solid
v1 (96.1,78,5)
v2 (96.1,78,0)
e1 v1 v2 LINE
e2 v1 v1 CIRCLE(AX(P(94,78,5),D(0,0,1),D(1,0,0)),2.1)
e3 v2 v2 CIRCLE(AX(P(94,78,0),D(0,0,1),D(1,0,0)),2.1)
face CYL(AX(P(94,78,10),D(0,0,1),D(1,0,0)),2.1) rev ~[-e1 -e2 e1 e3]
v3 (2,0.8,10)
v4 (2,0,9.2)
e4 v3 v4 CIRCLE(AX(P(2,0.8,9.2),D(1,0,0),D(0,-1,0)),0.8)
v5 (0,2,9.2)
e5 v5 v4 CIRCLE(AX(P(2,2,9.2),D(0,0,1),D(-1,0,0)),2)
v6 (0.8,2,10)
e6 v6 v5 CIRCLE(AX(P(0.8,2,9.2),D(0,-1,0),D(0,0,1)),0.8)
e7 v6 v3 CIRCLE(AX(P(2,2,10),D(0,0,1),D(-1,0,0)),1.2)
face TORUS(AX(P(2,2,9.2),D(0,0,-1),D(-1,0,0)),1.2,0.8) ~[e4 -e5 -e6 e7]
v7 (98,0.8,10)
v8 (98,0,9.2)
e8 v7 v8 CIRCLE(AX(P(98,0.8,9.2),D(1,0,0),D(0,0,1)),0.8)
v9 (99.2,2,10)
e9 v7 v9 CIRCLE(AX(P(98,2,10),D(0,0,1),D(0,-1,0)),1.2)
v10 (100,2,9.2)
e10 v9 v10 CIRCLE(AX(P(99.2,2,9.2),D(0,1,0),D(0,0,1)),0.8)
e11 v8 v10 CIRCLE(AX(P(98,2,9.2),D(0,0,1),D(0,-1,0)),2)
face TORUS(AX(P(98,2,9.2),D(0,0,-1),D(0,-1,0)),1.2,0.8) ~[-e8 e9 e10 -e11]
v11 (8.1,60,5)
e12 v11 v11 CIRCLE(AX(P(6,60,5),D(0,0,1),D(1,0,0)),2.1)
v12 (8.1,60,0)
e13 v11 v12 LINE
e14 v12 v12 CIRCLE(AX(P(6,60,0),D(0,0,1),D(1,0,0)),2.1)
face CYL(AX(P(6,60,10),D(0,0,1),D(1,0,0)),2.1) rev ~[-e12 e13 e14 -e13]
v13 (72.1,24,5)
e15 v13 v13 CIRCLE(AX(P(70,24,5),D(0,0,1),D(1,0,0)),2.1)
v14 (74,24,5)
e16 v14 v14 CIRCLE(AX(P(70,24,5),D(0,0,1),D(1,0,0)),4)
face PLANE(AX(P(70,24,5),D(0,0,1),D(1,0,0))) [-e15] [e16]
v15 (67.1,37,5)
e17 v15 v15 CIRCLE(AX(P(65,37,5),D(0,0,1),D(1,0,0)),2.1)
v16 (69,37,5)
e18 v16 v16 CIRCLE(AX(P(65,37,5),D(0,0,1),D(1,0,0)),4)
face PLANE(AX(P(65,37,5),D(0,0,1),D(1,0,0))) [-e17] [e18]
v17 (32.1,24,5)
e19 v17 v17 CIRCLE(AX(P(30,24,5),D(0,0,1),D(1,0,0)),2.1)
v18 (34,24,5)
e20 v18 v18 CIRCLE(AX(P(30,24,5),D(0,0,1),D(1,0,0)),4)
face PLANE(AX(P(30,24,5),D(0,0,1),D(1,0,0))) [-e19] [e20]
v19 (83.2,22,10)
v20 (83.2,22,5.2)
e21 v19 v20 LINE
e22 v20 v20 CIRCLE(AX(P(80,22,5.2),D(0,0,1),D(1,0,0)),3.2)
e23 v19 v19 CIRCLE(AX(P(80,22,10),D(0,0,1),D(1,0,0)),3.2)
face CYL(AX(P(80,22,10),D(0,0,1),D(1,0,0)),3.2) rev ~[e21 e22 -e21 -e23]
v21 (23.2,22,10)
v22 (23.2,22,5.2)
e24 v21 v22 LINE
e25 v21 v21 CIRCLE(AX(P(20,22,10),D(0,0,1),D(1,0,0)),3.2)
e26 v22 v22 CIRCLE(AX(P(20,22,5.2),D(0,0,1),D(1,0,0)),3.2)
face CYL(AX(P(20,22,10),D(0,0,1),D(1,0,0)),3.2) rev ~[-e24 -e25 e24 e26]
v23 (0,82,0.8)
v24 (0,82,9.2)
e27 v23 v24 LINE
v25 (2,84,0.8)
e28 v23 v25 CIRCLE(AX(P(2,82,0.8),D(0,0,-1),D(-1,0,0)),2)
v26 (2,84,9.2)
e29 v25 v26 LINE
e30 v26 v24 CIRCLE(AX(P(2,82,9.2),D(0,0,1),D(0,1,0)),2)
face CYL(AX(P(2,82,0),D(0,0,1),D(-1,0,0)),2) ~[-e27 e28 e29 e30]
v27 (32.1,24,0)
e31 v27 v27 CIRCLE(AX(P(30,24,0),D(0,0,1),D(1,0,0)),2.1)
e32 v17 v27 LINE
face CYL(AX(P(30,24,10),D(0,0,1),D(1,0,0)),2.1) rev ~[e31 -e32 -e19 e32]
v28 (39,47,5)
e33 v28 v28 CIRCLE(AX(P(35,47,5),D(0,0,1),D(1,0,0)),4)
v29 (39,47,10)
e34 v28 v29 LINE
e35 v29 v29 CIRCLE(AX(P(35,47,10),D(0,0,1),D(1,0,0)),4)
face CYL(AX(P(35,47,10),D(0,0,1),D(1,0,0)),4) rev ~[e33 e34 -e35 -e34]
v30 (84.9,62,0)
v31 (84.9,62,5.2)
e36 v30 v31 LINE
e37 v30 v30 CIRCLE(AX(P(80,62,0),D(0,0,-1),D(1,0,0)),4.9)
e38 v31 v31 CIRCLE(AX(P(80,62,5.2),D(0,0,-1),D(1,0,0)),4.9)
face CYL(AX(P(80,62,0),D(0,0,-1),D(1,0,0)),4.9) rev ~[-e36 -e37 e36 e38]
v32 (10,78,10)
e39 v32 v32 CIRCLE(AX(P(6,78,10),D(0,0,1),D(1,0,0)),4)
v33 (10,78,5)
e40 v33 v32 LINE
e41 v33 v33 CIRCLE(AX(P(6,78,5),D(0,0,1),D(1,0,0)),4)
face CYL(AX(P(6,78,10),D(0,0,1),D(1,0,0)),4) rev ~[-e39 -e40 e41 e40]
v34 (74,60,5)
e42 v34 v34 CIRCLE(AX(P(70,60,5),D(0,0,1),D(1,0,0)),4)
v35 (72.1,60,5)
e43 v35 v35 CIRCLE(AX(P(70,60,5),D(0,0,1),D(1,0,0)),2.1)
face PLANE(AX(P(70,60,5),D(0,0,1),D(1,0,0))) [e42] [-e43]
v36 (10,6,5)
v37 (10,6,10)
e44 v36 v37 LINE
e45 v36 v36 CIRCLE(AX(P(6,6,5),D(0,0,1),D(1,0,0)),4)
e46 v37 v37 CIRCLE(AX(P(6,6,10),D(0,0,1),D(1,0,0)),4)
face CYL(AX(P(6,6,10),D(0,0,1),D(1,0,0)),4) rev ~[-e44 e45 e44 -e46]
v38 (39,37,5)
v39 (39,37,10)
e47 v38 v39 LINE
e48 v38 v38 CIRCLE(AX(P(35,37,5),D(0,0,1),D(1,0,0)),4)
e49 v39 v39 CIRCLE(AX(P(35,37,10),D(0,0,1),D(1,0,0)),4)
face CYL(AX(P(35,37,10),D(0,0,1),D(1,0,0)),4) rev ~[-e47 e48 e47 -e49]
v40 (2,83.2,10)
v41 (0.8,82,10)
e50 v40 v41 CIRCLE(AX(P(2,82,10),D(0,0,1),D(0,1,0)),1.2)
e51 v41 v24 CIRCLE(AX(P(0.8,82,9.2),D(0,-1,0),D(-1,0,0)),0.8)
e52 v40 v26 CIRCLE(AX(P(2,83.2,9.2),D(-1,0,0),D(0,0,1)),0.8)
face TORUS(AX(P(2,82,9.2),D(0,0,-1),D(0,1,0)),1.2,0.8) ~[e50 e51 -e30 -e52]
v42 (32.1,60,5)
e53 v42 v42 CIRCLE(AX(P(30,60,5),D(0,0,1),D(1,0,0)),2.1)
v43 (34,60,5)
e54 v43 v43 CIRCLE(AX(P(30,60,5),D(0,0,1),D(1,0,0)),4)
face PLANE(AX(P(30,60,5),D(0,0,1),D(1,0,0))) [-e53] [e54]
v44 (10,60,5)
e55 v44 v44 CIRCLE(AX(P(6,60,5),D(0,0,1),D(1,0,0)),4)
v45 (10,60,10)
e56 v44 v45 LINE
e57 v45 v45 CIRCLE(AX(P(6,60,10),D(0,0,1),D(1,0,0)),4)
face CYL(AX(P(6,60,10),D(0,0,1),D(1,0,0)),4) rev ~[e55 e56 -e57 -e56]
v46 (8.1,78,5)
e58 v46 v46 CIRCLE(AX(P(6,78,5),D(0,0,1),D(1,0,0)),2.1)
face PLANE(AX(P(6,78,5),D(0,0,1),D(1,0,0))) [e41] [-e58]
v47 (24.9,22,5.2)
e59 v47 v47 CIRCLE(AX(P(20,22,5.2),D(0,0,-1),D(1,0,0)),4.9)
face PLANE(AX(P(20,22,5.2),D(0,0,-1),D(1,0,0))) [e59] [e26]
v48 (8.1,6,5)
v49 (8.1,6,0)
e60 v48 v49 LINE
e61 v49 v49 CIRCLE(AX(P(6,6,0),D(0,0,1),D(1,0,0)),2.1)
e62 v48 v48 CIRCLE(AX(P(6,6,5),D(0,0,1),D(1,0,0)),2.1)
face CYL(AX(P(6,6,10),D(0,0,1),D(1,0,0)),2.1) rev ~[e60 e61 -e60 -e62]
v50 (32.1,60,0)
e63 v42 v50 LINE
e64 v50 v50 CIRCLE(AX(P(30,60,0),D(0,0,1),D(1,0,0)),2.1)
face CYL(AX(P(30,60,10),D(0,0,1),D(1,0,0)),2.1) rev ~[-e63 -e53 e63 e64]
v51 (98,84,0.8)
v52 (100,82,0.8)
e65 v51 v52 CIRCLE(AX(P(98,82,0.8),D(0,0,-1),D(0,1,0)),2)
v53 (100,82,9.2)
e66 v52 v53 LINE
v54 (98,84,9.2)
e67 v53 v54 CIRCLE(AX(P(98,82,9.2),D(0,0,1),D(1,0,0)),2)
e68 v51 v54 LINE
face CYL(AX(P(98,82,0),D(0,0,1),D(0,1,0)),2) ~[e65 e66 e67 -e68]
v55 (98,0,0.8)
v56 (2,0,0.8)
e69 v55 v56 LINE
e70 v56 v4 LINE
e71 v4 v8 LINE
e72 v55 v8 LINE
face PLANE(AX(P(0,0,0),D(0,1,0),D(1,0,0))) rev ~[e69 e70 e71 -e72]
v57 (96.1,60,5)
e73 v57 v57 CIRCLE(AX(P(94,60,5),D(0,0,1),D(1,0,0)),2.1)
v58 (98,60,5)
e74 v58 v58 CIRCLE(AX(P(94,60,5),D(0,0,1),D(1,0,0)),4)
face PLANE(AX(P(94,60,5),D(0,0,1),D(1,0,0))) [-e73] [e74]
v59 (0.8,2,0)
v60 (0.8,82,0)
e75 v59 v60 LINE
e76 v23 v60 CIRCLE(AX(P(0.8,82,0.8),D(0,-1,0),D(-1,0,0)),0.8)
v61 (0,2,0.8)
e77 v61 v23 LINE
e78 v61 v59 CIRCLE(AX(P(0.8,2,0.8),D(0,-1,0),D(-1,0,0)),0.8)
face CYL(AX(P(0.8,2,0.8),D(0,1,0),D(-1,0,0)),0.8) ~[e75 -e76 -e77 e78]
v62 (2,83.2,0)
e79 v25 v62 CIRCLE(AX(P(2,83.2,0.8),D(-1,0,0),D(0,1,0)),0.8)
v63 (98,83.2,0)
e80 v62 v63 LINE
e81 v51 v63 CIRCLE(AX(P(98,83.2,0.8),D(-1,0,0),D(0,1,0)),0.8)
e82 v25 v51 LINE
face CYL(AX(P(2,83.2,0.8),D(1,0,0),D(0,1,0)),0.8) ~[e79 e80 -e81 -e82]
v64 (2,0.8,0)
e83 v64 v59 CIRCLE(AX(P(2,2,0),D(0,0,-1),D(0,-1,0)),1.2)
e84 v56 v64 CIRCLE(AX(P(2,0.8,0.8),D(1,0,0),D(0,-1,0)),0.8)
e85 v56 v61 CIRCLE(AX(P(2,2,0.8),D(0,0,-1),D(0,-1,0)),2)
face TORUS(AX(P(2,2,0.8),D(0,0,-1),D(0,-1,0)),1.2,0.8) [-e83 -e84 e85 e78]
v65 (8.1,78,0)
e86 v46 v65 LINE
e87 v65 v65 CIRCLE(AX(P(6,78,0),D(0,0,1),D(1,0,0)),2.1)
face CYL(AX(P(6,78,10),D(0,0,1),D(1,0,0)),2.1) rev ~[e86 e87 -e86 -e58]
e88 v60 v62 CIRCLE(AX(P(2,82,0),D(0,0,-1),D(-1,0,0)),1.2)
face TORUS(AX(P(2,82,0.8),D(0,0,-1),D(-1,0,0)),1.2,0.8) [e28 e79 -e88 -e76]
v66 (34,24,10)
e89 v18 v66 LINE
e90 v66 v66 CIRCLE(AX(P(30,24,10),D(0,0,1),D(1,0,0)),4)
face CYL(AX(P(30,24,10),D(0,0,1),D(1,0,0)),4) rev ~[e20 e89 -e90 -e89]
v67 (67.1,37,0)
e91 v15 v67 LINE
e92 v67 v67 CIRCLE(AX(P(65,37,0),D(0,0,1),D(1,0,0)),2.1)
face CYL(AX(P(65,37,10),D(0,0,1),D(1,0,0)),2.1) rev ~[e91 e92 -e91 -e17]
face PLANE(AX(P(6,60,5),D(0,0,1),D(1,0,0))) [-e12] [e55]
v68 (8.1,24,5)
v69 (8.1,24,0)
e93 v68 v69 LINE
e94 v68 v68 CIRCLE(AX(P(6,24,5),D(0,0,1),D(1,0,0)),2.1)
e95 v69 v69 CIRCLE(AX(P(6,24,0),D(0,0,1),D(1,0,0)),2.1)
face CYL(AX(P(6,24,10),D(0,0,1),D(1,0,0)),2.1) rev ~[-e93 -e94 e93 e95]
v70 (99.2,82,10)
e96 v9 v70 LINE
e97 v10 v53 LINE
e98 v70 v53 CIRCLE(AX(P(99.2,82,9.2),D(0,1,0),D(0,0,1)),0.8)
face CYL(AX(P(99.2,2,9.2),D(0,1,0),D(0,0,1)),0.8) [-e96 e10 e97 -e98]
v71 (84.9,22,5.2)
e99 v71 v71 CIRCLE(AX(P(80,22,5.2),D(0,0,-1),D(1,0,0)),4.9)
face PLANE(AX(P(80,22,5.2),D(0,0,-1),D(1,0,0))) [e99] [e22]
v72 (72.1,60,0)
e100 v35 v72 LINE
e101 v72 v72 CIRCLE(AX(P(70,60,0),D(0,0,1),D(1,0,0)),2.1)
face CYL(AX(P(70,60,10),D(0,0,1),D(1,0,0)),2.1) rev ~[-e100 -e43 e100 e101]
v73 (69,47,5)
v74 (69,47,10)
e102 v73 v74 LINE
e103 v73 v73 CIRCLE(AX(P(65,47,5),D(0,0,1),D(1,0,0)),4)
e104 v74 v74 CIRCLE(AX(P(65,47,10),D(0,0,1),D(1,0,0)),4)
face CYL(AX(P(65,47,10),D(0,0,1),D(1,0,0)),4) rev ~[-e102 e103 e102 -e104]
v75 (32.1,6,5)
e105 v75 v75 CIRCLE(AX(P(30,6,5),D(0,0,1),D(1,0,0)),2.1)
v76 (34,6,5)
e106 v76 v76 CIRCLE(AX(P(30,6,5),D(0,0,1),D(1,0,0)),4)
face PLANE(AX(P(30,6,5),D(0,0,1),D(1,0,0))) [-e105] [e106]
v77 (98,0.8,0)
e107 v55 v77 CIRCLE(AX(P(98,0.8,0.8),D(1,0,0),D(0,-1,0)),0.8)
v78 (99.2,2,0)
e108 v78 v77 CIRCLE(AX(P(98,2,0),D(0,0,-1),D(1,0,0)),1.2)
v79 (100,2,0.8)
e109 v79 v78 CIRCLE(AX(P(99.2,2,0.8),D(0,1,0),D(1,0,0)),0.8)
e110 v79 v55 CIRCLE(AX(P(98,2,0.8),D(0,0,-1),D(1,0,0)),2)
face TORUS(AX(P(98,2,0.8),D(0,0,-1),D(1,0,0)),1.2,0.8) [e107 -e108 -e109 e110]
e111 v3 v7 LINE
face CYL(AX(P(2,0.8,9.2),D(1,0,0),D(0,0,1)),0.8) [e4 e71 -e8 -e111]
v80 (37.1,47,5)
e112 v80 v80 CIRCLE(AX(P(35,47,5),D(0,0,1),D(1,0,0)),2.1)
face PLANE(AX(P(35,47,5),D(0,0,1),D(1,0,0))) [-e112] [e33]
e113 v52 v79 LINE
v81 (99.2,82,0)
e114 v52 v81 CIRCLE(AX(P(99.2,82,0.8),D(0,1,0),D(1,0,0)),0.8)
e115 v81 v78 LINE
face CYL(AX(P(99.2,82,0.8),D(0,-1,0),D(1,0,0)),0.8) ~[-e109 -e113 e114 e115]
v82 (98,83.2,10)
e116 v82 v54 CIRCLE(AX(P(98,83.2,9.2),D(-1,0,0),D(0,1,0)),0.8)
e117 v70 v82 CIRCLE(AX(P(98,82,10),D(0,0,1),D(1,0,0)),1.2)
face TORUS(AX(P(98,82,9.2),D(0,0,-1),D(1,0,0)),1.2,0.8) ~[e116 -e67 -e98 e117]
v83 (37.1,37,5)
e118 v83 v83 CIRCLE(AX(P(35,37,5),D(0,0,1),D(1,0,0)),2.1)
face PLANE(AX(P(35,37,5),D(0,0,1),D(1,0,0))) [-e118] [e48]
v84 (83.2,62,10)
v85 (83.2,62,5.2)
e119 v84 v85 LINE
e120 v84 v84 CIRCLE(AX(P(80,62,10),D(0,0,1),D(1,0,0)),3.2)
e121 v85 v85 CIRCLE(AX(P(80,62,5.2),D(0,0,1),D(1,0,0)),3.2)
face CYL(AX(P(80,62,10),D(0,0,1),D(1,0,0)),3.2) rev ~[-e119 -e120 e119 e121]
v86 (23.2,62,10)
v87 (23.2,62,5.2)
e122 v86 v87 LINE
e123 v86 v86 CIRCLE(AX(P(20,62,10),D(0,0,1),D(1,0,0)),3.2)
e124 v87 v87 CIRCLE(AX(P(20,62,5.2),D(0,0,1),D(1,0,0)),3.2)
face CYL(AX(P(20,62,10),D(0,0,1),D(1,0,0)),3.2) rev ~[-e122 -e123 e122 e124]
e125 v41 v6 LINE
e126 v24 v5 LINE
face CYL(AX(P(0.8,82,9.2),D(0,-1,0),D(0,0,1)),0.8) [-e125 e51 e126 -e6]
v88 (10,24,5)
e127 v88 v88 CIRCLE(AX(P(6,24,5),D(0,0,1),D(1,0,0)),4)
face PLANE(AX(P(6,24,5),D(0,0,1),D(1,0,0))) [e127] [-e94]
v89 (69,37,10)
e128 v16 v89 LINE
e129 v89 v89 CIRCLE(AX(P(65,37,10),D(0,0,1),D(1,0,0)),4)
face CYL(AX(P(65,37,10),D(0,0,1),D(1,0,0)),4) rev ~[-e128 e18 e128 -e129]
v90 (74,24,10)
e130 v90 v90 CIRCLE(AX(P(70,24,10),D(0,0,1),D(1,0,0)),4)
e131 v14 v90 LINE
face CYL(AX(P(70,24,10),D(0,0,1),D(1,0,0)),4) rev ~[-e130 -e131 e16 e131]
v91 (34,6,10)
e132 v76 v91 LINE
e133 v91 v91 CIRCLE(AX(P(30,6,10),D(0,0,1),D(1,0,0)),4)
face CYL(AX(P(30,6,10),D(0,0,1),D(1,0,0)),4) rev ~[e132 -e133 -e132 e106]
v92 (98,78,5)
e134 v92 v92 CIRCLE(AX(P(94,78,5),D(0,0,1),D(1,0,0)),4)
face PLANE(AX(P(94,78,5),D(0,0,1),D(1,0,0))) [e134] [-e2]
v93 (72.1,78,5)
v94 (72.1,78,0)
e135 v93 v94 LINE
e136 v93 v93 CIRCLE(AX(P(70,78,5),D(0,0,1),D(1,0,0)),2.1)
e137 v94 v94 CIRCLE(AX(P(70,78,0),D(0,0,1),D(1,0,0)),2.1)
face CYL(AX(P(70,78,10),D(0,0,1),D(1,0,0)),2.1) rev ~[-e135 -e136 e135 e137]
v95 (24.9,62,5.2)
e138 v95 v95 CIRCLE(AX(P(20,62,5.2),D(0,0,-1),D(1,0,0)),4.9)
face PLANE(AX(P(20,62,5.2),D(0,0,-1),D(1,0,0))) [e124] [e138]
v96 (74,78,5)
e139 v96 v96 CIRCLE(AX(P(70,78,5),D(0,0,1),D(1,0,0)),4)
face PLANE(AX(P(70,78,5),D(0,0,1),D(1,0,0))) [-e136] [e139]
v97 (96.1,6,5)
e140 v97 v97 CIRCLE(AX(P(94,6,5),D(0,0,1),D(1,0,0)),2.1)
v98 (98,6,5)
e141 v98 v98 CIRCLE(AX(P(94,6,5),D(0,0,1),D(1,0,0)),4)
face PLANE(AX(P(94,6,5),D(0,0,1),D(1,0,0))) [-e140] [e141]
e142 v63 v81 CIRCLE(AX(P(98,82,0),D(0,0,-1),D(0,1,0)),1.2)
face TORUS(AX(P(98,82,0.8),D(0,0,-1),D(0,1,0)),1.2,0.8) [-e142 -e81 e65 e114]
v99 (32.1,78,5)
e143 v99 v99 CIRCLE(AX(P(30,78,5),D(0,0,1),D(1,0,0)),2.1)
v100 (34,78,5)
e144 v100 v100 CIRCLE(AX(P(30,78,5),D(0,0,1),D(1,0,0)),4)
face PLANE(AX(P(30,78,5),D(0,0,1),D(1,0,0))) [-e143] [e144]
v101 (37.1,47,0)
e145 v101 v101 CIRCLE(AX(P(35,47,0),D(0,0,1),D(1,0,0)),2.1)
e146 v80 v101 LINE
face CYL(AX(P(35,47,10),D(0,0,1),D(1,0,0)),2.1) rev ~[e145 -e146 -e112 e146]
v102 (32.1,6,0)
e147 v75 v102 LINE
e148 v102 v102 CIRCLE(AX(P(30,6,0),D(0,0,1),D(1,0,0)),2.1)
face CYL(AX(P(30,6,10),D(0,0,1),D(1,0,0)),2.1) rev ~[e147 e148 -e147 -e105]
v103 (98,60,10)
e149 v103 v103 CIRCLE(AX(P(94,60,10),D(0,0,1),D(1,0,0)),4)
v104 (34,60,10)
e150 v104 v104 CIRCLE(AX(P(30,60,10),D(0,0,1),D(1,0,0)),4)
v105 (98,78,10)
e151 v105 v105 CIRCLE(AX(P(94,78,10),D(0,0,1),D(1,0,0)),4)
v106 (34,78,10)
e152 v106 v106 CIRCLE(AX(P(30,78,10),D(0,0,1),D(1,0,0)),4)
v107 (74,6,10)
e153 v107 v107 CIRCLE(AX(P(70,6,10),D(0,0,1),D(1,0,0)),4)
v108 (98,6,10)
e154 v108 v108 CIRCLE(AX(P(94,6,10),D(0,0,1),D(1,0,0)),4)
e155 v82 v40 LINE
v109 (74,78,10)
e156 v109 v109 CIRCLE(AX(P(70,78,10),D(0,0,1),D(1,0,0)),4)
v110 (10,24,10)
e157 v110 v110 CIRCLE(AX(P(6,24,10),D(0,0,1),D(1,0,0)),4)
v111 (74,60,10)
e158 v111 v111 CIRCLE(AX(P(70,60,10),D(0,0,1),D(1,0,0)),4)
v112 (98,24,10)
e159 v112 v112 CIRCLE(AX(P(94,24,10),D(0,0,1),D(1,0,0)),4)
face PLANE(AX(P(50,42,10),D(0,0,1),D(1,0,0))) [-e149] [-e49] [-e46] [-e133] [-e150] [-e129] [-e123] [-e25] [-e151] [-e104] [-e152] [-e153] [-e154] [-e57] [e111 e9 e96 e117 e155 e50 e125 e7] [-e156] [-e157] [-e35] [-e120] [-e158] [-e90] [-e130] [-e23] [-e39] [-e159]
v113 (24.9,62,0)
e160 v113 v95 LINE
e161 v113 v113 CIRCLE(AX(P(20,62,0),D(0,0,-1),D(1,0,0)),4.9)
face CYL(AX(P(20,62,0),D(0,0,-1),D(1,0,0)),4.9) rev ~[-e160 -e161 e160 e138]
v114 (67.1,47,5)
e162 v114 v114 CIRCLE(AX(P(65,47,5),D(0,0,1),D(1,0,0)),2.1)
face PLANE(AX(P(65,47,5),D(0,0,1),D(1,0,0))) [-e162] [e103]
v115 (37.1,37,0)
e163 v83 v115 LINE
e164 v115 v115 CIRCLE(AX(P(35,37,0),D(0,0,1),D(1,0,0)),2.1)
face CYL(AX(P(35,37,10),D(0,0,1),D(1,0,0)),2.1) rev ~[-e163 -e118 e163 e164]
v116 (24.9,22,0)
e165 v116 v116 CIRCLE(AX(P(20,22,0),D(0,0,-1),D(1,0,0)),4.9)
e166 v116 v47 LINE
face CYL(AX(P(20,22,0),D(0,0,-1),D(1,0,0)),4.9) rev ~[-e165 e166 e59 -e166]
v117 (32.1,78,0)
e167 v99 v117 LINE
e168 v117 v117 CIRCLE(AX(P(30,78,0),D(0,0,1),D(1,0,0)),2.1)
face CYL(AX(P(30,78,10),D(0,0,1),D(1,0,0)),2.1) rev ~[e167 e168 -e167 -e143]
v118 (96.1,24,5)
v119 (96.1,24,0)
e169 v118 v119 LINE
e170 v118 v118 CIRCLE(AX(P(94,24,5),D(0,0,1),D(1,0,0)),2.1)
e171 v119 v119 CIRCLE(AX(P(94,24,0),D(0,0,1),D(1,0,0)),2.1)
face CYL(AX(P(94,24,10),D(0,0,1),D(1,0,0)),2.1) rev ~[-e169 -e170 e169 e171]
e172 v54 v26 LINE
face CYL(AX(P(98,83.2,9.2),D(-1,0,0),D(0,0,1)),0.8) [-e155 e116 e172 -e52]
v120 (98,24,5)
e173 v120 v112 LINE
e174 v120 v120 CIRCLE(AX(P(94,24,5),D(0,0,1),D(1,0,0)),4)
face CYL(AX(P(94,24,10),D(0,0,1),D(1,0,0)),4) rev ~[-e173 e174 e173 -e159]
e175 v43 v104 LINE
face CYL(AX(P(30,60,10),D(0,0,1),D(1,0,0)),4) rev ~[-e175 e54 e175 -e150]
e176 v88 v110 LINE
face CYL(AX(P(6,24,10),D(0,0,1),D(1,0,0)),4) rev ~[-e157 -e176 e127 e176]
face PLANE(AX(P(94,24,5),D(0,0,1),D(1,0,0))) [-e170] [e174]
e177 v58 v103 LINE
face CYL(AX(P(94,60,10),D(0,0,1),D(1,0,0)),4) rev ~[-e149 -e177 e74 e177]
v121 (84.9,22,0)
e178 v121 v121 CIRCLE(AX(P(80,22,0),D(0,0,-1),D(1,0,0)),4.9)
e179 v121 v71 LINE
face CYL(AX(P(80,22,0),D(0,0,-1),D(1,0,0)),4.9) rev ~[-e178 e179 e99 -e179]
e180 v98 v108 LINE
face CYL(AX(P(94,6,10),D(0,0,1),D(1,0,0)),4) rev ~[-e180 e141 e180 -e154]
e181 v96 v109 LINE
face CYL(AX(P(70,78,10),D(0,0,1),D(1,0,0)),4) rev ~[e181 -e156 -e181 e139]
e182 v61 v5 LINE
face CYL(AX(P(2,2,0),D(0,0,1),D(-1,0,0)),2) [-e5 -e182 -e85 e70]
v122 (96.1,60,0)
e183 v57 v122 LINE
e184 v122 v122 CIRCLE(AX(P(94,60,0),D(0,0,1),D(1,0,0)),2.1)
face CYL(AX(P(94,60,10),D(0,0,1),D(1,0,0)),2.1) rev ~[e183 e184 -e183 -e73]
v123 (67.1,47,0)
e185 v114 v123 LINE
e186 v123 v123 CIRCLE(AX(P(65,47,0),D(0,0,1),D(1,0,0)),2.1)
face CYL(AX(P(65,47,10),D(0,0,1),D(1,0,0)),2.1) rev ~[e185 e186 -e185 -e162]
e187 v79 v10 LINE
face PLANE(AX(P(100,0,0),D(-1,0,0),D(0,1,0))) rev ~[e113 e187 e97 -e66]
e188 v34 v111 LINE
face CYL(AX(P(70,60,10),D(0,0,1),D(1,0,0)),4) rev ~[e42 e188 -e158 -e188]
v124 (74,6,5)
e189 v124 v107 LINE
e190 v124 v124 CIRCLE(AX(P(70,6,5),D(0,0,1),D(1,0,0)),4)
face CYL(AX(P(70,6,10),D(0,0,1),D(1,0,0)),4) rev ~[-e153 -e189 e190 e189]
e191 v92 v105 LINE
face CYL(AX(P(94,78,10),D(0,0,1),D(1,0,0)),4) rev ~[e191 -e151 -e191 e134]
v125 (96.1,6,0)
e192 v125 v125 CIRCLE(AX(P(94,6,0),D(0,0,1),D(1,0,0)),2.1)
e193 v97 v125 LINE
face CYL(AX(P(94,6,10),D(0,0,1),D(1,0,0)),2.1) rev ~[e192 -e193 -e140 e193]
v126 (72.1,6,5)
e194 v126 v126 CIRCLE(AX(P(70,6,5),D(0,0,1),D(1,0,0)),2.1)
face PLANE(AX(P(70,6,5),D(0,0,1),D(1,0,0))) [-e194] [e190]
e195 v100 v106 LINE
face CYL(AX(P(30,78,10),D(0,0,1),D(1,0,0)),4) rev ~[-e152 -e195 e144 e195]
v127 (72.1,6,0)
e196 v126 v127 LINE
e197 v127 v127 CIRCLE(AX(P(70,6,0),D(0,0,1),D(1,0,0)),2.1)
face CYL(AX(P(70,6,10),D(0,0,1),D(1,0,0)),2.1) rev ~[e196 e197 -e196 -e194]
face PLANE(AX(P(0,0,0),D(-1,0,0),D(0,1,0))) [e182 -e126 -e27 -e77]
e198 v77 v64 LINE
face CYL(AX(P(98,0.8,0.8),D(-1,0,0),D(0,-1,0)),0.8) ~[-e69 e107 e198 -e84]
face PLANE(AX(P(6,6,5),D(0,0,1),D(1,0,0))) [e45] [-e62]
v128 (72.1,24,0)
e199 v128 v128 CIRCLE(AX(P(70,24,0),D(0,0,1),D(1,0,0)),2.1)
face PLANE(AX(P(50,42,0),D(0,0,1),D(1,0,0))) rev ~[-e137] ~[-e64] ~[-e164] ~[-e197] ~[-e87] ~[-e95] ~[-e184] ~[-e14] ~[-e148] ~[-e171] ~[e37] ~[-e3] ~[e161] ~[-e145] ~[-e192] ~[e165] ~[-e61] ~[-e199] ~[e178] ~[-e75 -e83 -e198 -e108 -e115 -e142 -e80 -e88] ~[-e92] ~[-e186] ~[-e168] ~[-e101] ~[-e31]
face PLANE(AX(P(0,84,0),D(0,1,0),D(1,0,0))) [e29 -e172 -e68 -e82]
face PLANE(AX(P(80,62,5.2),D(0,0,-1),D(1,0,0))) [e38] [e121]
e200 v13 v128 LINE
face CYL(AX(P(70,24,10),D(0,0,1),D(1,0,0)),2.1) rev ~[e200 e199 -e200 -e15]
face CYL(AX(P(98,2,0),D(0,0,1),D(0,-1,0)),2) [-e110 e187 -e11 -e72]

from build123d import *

# Parameters (mm, degrees)
SKETCH_W        = 100
SKETCH_H        = 84
PAD_DEPTH       = 10
SKETCH001_R     = 2.1
POCKET_DEPTH    = 10
SKETCH002_R     = 3.2
POCKET001_DEPTH = 10
SKETCH003_R     = 4
POCKET002_DEPTH = 5
POCKET003_DEPTH = 4
SKETCH004_R     = 4.9
POCKET004_DEPTH = 5.2
FILLET_R        = 2
FILLET001_R     = 0.8
FILLET002_R     = 0.8


with BuildPart() as part:
    # Sketch → Pad (new body)
    with BuildSketch(Plane.XY):
        with Locations((50, 42)):
            Rectangle(SKETCH_W, SKETCH_H)
    extrude(amount=PAD_DEPTH)

    # Sketch001 (on Face6 of Pad) → Pocket (cut)
    with BuildSketch(Plane.XY.offset(10)):
        with Locations((6, 78)):
            Circle(SKETCH001_R)
        with Locations((30, 78)):
            Circle(SKETCH001_R)
        with Locations((6, 60)):
            Circle(SKETCH001_R)
        with Locations((30, 60)):
            Circle(SKETCH001_R)
        with Locations((6, 24)):
            Circle(SKETCH001_R)
        with Locations((30, 24)):
            Circle(SKETCH001_R)
        with Locations((6, 6)):
            Circle(SKETCH001_R)
        with Locations((30, 6)):
            Circle(SKETCH001_R)
        with Locations((70, 78)):
            Circle(SKETCH001_R)
        with Locations((94, 78)):
            Circle(SKETCH001_R)
        with Locations((70, 60)):
            Circle(SKETCH001_R)
        with Locations((94, 60)):
            Circle(SKETCH001_R)
        with Locations((70, 24)):
            Circle(SKETCH001_R)
        with Locations((94, 24)):
            Circle(SKETCH001_R)
        with Locations((70, 6)):
            Circle(SKETCH001_R)
        with Locations((94, 6)):
            Circle(SKETCH001_R)
        with Locations((35, 47)):
            Circle(SKETCH001_R)
        with Locations((65, 47)):
            Circle(SKETCH001_R)
        with Locations((35, 37)):
            Circle(SKETCH001_R)
        with Locations((65, 37)):
            Circle(SKETCH001_R)
    extrude(amount=-POCKET_DEPTH, mode=Mode.SUBTRACT)

    # Sketch002 (on Face5 of Pocket) → Pocket001 (cut)
    with BuildSketch(Plane.XY.offset(10)):
        with Locations((20, 62)):
            Circle(SKETCH002_R)
        with Locations((20, 22)):
            Circle(SKETCH002_R)
        with Locations((80, 62)):
            Circle(SKETCH002_R)
        with Locations((80, 22)):
            Circle(SKETCH002_R)
    extrude(amount=-POCKET001_DEPTH, mode=Mode.SUBTRACT)

    # Sketch003 (on Face5 of Pocket001) → Pocket002 (cut)
    with BuildSketch(Plane.XY.offset(10)):
        with Locations((6, 78)):
            Circle(SKETCH003_R)
        with Locations((30, 78)):
            Circle(SKETCH003_R)
        with Locations((30, 60)):
            Circle(SKETCH003_R)
        with Locations((6, 60)):
            Circle(SKETCH003_R)
        with Locations((70, 78)):
            Circle(SKETCH003_R)
        with Locations((94, 78)):
            Circle(SKETCH003_R)
        with Locations((70, 60)):
            Circle(SKETCH003_R)
        with Locations((94, 60)):
            Circle(SKETCH003_R)
        with Locations((6, 24)):
            Circle(SKETCH003_R)
        with Locations((30, 24)):
            Circle(SKETCH003_R)
        with Locations((6, 6)):
            Circle(SKETCH003_R)
        with Locations((30, 6)):
            Circle(SKETCH003_R)
        with Locations((70, 24)):
            Circle(SKETCH003_R)
        with Locations((94, 24)):
            Circle(SKETCH003_R)
        with Locations((70, 6)):
            Circle(SKETCH003_R)
        with Locations((94, 6)):
            Circle(SKETCH003_R)
        with Locations((35, 47)):
            Circle(SKETCH003_R)
        with Locations((35, 37)):
            Circle(SKETCH003_R)
        with Locations((65, 37)):
            Circle(SKETCH003_R)
        with Locations((65, 47)):
            Circle(SKETCH003_R)
    extrude(amount=-POCKET002_DEPTH, mode=Mode.SUBTRACT)

    # Sketch003 (on Face5 of Pocket001) → Pocket003 (cut)
    with BuildSketch(Plane.XY.offset(10)):
        with Locations((6, 78)):
            Circle(SKETCH003_R)
        with Locations((30, 78)):
            Circle(SKETCH003_R)
        with Locations((30, 60)):
            Circle(SKETCH003_R)
        with Locations((6, 60)):
            Circle(SKETCH003_R)
        with Locations((70, 78)):
            Circle(SKETCH003_R)
        with Locations((94, 78)):
            Circle(SKETCH003_R)
        with Locations((70, 60)):
            Circle(SKETCH003_R)
        with Locations((94, 60)):
            Circle(SKETCH003_R)
        with Locations((6, 24)):
            Circle(SKETCH003_R)
        with Locations((30, 24)):
            Circle(SKETCH003_R)
        with Locations((6, 6)):
            Circle(SKETCH003_R)
        with Locations((30, 6)):
            Circle(SKETCH003_R)
        with Locations((70, 24)):
            Circle(SKETCH003_R)
        with Locations((94, 24)):
            Circle(SKETCH003_R)
        with Locations((70, 6)):
            Circle(SKETCH003_R)
        with Locations((94, 6)):
            Circle(SKETCH003_R)
        with Locations((35, 47)):
            Circle(SKETCH003_R)
        with Locations((35, 37)):
            Circle(SKETCH003_R)
        with Locations((65, 37)):
            Circle(SKETCH003_R)
        with Locations((65, 47)):
            Circle(SKETCH003_R)
    extrude(amount=-POCKET003_DEPTH, mode=Mode.SUBTRACT)

    # Sketch004 (on Face4 of Pocket003) → Pocket004 (cut)
    with BuildSketch(Plane(origin=(0, 0, 0), x_dir=(1, 0, 0), z_dir=(0, 0, -1))):
        with Locations((20, -22)):
            Circle(SKETCH004_R)
        with Locations((80, -22)):
            Circle(SKETCH004_R)
        with Locations((20, -62)):
            Circle(SKETCH004_R)
        with Locations((80, -62)):
            Circle(SKETCH004_R)
    extrude(amount=-POCKET004_DEPTH, mode=Mode.SUBTRACT)

    # Fillet
    fillet_edges = [part.edges().sort_by_distance(p)[0] for p in [
        (100, 0, 5),
        (100, 84, 5),
        (0, 84, 5),
        (0, 0, 5),
    ]]
    fillet(fillet_edges, radius=FILLET_R)

    # Fillet001
    fillet001_edges = [part.edges().sort_by_distance(p)[0] for p in [
        (100, 42, 10),
        (99.414214, 0.585786, 10),
        (50, 0, 10),
        (0.585786, 0.585786, 10),
        (0, 42, 10),
        (0.585786, 83.414214, 10),
        (50, 84, 10),
        (99.414214, 83.414214, 10),
    ]]
    fillet(fillet001_edges, radius=FILLET001_R)

    # Fillet002
    fillet002_edges = [part.edges().sort_by_distance(p)[0] for p in [
        (0, 42, 0),
        (0.585786, 0.585786, 0),
        (50, 0, 0),
        (99.414214, 0.585786, 0),
        (100, 42, 0),
        (99.414214, 83.414214, 0),
        (50, 84, 0),
        (0.585786, 83.414214, 0),
    ]]
    fillet(fillet002_edges, radius=FILLET002_R)


solid = part.part
